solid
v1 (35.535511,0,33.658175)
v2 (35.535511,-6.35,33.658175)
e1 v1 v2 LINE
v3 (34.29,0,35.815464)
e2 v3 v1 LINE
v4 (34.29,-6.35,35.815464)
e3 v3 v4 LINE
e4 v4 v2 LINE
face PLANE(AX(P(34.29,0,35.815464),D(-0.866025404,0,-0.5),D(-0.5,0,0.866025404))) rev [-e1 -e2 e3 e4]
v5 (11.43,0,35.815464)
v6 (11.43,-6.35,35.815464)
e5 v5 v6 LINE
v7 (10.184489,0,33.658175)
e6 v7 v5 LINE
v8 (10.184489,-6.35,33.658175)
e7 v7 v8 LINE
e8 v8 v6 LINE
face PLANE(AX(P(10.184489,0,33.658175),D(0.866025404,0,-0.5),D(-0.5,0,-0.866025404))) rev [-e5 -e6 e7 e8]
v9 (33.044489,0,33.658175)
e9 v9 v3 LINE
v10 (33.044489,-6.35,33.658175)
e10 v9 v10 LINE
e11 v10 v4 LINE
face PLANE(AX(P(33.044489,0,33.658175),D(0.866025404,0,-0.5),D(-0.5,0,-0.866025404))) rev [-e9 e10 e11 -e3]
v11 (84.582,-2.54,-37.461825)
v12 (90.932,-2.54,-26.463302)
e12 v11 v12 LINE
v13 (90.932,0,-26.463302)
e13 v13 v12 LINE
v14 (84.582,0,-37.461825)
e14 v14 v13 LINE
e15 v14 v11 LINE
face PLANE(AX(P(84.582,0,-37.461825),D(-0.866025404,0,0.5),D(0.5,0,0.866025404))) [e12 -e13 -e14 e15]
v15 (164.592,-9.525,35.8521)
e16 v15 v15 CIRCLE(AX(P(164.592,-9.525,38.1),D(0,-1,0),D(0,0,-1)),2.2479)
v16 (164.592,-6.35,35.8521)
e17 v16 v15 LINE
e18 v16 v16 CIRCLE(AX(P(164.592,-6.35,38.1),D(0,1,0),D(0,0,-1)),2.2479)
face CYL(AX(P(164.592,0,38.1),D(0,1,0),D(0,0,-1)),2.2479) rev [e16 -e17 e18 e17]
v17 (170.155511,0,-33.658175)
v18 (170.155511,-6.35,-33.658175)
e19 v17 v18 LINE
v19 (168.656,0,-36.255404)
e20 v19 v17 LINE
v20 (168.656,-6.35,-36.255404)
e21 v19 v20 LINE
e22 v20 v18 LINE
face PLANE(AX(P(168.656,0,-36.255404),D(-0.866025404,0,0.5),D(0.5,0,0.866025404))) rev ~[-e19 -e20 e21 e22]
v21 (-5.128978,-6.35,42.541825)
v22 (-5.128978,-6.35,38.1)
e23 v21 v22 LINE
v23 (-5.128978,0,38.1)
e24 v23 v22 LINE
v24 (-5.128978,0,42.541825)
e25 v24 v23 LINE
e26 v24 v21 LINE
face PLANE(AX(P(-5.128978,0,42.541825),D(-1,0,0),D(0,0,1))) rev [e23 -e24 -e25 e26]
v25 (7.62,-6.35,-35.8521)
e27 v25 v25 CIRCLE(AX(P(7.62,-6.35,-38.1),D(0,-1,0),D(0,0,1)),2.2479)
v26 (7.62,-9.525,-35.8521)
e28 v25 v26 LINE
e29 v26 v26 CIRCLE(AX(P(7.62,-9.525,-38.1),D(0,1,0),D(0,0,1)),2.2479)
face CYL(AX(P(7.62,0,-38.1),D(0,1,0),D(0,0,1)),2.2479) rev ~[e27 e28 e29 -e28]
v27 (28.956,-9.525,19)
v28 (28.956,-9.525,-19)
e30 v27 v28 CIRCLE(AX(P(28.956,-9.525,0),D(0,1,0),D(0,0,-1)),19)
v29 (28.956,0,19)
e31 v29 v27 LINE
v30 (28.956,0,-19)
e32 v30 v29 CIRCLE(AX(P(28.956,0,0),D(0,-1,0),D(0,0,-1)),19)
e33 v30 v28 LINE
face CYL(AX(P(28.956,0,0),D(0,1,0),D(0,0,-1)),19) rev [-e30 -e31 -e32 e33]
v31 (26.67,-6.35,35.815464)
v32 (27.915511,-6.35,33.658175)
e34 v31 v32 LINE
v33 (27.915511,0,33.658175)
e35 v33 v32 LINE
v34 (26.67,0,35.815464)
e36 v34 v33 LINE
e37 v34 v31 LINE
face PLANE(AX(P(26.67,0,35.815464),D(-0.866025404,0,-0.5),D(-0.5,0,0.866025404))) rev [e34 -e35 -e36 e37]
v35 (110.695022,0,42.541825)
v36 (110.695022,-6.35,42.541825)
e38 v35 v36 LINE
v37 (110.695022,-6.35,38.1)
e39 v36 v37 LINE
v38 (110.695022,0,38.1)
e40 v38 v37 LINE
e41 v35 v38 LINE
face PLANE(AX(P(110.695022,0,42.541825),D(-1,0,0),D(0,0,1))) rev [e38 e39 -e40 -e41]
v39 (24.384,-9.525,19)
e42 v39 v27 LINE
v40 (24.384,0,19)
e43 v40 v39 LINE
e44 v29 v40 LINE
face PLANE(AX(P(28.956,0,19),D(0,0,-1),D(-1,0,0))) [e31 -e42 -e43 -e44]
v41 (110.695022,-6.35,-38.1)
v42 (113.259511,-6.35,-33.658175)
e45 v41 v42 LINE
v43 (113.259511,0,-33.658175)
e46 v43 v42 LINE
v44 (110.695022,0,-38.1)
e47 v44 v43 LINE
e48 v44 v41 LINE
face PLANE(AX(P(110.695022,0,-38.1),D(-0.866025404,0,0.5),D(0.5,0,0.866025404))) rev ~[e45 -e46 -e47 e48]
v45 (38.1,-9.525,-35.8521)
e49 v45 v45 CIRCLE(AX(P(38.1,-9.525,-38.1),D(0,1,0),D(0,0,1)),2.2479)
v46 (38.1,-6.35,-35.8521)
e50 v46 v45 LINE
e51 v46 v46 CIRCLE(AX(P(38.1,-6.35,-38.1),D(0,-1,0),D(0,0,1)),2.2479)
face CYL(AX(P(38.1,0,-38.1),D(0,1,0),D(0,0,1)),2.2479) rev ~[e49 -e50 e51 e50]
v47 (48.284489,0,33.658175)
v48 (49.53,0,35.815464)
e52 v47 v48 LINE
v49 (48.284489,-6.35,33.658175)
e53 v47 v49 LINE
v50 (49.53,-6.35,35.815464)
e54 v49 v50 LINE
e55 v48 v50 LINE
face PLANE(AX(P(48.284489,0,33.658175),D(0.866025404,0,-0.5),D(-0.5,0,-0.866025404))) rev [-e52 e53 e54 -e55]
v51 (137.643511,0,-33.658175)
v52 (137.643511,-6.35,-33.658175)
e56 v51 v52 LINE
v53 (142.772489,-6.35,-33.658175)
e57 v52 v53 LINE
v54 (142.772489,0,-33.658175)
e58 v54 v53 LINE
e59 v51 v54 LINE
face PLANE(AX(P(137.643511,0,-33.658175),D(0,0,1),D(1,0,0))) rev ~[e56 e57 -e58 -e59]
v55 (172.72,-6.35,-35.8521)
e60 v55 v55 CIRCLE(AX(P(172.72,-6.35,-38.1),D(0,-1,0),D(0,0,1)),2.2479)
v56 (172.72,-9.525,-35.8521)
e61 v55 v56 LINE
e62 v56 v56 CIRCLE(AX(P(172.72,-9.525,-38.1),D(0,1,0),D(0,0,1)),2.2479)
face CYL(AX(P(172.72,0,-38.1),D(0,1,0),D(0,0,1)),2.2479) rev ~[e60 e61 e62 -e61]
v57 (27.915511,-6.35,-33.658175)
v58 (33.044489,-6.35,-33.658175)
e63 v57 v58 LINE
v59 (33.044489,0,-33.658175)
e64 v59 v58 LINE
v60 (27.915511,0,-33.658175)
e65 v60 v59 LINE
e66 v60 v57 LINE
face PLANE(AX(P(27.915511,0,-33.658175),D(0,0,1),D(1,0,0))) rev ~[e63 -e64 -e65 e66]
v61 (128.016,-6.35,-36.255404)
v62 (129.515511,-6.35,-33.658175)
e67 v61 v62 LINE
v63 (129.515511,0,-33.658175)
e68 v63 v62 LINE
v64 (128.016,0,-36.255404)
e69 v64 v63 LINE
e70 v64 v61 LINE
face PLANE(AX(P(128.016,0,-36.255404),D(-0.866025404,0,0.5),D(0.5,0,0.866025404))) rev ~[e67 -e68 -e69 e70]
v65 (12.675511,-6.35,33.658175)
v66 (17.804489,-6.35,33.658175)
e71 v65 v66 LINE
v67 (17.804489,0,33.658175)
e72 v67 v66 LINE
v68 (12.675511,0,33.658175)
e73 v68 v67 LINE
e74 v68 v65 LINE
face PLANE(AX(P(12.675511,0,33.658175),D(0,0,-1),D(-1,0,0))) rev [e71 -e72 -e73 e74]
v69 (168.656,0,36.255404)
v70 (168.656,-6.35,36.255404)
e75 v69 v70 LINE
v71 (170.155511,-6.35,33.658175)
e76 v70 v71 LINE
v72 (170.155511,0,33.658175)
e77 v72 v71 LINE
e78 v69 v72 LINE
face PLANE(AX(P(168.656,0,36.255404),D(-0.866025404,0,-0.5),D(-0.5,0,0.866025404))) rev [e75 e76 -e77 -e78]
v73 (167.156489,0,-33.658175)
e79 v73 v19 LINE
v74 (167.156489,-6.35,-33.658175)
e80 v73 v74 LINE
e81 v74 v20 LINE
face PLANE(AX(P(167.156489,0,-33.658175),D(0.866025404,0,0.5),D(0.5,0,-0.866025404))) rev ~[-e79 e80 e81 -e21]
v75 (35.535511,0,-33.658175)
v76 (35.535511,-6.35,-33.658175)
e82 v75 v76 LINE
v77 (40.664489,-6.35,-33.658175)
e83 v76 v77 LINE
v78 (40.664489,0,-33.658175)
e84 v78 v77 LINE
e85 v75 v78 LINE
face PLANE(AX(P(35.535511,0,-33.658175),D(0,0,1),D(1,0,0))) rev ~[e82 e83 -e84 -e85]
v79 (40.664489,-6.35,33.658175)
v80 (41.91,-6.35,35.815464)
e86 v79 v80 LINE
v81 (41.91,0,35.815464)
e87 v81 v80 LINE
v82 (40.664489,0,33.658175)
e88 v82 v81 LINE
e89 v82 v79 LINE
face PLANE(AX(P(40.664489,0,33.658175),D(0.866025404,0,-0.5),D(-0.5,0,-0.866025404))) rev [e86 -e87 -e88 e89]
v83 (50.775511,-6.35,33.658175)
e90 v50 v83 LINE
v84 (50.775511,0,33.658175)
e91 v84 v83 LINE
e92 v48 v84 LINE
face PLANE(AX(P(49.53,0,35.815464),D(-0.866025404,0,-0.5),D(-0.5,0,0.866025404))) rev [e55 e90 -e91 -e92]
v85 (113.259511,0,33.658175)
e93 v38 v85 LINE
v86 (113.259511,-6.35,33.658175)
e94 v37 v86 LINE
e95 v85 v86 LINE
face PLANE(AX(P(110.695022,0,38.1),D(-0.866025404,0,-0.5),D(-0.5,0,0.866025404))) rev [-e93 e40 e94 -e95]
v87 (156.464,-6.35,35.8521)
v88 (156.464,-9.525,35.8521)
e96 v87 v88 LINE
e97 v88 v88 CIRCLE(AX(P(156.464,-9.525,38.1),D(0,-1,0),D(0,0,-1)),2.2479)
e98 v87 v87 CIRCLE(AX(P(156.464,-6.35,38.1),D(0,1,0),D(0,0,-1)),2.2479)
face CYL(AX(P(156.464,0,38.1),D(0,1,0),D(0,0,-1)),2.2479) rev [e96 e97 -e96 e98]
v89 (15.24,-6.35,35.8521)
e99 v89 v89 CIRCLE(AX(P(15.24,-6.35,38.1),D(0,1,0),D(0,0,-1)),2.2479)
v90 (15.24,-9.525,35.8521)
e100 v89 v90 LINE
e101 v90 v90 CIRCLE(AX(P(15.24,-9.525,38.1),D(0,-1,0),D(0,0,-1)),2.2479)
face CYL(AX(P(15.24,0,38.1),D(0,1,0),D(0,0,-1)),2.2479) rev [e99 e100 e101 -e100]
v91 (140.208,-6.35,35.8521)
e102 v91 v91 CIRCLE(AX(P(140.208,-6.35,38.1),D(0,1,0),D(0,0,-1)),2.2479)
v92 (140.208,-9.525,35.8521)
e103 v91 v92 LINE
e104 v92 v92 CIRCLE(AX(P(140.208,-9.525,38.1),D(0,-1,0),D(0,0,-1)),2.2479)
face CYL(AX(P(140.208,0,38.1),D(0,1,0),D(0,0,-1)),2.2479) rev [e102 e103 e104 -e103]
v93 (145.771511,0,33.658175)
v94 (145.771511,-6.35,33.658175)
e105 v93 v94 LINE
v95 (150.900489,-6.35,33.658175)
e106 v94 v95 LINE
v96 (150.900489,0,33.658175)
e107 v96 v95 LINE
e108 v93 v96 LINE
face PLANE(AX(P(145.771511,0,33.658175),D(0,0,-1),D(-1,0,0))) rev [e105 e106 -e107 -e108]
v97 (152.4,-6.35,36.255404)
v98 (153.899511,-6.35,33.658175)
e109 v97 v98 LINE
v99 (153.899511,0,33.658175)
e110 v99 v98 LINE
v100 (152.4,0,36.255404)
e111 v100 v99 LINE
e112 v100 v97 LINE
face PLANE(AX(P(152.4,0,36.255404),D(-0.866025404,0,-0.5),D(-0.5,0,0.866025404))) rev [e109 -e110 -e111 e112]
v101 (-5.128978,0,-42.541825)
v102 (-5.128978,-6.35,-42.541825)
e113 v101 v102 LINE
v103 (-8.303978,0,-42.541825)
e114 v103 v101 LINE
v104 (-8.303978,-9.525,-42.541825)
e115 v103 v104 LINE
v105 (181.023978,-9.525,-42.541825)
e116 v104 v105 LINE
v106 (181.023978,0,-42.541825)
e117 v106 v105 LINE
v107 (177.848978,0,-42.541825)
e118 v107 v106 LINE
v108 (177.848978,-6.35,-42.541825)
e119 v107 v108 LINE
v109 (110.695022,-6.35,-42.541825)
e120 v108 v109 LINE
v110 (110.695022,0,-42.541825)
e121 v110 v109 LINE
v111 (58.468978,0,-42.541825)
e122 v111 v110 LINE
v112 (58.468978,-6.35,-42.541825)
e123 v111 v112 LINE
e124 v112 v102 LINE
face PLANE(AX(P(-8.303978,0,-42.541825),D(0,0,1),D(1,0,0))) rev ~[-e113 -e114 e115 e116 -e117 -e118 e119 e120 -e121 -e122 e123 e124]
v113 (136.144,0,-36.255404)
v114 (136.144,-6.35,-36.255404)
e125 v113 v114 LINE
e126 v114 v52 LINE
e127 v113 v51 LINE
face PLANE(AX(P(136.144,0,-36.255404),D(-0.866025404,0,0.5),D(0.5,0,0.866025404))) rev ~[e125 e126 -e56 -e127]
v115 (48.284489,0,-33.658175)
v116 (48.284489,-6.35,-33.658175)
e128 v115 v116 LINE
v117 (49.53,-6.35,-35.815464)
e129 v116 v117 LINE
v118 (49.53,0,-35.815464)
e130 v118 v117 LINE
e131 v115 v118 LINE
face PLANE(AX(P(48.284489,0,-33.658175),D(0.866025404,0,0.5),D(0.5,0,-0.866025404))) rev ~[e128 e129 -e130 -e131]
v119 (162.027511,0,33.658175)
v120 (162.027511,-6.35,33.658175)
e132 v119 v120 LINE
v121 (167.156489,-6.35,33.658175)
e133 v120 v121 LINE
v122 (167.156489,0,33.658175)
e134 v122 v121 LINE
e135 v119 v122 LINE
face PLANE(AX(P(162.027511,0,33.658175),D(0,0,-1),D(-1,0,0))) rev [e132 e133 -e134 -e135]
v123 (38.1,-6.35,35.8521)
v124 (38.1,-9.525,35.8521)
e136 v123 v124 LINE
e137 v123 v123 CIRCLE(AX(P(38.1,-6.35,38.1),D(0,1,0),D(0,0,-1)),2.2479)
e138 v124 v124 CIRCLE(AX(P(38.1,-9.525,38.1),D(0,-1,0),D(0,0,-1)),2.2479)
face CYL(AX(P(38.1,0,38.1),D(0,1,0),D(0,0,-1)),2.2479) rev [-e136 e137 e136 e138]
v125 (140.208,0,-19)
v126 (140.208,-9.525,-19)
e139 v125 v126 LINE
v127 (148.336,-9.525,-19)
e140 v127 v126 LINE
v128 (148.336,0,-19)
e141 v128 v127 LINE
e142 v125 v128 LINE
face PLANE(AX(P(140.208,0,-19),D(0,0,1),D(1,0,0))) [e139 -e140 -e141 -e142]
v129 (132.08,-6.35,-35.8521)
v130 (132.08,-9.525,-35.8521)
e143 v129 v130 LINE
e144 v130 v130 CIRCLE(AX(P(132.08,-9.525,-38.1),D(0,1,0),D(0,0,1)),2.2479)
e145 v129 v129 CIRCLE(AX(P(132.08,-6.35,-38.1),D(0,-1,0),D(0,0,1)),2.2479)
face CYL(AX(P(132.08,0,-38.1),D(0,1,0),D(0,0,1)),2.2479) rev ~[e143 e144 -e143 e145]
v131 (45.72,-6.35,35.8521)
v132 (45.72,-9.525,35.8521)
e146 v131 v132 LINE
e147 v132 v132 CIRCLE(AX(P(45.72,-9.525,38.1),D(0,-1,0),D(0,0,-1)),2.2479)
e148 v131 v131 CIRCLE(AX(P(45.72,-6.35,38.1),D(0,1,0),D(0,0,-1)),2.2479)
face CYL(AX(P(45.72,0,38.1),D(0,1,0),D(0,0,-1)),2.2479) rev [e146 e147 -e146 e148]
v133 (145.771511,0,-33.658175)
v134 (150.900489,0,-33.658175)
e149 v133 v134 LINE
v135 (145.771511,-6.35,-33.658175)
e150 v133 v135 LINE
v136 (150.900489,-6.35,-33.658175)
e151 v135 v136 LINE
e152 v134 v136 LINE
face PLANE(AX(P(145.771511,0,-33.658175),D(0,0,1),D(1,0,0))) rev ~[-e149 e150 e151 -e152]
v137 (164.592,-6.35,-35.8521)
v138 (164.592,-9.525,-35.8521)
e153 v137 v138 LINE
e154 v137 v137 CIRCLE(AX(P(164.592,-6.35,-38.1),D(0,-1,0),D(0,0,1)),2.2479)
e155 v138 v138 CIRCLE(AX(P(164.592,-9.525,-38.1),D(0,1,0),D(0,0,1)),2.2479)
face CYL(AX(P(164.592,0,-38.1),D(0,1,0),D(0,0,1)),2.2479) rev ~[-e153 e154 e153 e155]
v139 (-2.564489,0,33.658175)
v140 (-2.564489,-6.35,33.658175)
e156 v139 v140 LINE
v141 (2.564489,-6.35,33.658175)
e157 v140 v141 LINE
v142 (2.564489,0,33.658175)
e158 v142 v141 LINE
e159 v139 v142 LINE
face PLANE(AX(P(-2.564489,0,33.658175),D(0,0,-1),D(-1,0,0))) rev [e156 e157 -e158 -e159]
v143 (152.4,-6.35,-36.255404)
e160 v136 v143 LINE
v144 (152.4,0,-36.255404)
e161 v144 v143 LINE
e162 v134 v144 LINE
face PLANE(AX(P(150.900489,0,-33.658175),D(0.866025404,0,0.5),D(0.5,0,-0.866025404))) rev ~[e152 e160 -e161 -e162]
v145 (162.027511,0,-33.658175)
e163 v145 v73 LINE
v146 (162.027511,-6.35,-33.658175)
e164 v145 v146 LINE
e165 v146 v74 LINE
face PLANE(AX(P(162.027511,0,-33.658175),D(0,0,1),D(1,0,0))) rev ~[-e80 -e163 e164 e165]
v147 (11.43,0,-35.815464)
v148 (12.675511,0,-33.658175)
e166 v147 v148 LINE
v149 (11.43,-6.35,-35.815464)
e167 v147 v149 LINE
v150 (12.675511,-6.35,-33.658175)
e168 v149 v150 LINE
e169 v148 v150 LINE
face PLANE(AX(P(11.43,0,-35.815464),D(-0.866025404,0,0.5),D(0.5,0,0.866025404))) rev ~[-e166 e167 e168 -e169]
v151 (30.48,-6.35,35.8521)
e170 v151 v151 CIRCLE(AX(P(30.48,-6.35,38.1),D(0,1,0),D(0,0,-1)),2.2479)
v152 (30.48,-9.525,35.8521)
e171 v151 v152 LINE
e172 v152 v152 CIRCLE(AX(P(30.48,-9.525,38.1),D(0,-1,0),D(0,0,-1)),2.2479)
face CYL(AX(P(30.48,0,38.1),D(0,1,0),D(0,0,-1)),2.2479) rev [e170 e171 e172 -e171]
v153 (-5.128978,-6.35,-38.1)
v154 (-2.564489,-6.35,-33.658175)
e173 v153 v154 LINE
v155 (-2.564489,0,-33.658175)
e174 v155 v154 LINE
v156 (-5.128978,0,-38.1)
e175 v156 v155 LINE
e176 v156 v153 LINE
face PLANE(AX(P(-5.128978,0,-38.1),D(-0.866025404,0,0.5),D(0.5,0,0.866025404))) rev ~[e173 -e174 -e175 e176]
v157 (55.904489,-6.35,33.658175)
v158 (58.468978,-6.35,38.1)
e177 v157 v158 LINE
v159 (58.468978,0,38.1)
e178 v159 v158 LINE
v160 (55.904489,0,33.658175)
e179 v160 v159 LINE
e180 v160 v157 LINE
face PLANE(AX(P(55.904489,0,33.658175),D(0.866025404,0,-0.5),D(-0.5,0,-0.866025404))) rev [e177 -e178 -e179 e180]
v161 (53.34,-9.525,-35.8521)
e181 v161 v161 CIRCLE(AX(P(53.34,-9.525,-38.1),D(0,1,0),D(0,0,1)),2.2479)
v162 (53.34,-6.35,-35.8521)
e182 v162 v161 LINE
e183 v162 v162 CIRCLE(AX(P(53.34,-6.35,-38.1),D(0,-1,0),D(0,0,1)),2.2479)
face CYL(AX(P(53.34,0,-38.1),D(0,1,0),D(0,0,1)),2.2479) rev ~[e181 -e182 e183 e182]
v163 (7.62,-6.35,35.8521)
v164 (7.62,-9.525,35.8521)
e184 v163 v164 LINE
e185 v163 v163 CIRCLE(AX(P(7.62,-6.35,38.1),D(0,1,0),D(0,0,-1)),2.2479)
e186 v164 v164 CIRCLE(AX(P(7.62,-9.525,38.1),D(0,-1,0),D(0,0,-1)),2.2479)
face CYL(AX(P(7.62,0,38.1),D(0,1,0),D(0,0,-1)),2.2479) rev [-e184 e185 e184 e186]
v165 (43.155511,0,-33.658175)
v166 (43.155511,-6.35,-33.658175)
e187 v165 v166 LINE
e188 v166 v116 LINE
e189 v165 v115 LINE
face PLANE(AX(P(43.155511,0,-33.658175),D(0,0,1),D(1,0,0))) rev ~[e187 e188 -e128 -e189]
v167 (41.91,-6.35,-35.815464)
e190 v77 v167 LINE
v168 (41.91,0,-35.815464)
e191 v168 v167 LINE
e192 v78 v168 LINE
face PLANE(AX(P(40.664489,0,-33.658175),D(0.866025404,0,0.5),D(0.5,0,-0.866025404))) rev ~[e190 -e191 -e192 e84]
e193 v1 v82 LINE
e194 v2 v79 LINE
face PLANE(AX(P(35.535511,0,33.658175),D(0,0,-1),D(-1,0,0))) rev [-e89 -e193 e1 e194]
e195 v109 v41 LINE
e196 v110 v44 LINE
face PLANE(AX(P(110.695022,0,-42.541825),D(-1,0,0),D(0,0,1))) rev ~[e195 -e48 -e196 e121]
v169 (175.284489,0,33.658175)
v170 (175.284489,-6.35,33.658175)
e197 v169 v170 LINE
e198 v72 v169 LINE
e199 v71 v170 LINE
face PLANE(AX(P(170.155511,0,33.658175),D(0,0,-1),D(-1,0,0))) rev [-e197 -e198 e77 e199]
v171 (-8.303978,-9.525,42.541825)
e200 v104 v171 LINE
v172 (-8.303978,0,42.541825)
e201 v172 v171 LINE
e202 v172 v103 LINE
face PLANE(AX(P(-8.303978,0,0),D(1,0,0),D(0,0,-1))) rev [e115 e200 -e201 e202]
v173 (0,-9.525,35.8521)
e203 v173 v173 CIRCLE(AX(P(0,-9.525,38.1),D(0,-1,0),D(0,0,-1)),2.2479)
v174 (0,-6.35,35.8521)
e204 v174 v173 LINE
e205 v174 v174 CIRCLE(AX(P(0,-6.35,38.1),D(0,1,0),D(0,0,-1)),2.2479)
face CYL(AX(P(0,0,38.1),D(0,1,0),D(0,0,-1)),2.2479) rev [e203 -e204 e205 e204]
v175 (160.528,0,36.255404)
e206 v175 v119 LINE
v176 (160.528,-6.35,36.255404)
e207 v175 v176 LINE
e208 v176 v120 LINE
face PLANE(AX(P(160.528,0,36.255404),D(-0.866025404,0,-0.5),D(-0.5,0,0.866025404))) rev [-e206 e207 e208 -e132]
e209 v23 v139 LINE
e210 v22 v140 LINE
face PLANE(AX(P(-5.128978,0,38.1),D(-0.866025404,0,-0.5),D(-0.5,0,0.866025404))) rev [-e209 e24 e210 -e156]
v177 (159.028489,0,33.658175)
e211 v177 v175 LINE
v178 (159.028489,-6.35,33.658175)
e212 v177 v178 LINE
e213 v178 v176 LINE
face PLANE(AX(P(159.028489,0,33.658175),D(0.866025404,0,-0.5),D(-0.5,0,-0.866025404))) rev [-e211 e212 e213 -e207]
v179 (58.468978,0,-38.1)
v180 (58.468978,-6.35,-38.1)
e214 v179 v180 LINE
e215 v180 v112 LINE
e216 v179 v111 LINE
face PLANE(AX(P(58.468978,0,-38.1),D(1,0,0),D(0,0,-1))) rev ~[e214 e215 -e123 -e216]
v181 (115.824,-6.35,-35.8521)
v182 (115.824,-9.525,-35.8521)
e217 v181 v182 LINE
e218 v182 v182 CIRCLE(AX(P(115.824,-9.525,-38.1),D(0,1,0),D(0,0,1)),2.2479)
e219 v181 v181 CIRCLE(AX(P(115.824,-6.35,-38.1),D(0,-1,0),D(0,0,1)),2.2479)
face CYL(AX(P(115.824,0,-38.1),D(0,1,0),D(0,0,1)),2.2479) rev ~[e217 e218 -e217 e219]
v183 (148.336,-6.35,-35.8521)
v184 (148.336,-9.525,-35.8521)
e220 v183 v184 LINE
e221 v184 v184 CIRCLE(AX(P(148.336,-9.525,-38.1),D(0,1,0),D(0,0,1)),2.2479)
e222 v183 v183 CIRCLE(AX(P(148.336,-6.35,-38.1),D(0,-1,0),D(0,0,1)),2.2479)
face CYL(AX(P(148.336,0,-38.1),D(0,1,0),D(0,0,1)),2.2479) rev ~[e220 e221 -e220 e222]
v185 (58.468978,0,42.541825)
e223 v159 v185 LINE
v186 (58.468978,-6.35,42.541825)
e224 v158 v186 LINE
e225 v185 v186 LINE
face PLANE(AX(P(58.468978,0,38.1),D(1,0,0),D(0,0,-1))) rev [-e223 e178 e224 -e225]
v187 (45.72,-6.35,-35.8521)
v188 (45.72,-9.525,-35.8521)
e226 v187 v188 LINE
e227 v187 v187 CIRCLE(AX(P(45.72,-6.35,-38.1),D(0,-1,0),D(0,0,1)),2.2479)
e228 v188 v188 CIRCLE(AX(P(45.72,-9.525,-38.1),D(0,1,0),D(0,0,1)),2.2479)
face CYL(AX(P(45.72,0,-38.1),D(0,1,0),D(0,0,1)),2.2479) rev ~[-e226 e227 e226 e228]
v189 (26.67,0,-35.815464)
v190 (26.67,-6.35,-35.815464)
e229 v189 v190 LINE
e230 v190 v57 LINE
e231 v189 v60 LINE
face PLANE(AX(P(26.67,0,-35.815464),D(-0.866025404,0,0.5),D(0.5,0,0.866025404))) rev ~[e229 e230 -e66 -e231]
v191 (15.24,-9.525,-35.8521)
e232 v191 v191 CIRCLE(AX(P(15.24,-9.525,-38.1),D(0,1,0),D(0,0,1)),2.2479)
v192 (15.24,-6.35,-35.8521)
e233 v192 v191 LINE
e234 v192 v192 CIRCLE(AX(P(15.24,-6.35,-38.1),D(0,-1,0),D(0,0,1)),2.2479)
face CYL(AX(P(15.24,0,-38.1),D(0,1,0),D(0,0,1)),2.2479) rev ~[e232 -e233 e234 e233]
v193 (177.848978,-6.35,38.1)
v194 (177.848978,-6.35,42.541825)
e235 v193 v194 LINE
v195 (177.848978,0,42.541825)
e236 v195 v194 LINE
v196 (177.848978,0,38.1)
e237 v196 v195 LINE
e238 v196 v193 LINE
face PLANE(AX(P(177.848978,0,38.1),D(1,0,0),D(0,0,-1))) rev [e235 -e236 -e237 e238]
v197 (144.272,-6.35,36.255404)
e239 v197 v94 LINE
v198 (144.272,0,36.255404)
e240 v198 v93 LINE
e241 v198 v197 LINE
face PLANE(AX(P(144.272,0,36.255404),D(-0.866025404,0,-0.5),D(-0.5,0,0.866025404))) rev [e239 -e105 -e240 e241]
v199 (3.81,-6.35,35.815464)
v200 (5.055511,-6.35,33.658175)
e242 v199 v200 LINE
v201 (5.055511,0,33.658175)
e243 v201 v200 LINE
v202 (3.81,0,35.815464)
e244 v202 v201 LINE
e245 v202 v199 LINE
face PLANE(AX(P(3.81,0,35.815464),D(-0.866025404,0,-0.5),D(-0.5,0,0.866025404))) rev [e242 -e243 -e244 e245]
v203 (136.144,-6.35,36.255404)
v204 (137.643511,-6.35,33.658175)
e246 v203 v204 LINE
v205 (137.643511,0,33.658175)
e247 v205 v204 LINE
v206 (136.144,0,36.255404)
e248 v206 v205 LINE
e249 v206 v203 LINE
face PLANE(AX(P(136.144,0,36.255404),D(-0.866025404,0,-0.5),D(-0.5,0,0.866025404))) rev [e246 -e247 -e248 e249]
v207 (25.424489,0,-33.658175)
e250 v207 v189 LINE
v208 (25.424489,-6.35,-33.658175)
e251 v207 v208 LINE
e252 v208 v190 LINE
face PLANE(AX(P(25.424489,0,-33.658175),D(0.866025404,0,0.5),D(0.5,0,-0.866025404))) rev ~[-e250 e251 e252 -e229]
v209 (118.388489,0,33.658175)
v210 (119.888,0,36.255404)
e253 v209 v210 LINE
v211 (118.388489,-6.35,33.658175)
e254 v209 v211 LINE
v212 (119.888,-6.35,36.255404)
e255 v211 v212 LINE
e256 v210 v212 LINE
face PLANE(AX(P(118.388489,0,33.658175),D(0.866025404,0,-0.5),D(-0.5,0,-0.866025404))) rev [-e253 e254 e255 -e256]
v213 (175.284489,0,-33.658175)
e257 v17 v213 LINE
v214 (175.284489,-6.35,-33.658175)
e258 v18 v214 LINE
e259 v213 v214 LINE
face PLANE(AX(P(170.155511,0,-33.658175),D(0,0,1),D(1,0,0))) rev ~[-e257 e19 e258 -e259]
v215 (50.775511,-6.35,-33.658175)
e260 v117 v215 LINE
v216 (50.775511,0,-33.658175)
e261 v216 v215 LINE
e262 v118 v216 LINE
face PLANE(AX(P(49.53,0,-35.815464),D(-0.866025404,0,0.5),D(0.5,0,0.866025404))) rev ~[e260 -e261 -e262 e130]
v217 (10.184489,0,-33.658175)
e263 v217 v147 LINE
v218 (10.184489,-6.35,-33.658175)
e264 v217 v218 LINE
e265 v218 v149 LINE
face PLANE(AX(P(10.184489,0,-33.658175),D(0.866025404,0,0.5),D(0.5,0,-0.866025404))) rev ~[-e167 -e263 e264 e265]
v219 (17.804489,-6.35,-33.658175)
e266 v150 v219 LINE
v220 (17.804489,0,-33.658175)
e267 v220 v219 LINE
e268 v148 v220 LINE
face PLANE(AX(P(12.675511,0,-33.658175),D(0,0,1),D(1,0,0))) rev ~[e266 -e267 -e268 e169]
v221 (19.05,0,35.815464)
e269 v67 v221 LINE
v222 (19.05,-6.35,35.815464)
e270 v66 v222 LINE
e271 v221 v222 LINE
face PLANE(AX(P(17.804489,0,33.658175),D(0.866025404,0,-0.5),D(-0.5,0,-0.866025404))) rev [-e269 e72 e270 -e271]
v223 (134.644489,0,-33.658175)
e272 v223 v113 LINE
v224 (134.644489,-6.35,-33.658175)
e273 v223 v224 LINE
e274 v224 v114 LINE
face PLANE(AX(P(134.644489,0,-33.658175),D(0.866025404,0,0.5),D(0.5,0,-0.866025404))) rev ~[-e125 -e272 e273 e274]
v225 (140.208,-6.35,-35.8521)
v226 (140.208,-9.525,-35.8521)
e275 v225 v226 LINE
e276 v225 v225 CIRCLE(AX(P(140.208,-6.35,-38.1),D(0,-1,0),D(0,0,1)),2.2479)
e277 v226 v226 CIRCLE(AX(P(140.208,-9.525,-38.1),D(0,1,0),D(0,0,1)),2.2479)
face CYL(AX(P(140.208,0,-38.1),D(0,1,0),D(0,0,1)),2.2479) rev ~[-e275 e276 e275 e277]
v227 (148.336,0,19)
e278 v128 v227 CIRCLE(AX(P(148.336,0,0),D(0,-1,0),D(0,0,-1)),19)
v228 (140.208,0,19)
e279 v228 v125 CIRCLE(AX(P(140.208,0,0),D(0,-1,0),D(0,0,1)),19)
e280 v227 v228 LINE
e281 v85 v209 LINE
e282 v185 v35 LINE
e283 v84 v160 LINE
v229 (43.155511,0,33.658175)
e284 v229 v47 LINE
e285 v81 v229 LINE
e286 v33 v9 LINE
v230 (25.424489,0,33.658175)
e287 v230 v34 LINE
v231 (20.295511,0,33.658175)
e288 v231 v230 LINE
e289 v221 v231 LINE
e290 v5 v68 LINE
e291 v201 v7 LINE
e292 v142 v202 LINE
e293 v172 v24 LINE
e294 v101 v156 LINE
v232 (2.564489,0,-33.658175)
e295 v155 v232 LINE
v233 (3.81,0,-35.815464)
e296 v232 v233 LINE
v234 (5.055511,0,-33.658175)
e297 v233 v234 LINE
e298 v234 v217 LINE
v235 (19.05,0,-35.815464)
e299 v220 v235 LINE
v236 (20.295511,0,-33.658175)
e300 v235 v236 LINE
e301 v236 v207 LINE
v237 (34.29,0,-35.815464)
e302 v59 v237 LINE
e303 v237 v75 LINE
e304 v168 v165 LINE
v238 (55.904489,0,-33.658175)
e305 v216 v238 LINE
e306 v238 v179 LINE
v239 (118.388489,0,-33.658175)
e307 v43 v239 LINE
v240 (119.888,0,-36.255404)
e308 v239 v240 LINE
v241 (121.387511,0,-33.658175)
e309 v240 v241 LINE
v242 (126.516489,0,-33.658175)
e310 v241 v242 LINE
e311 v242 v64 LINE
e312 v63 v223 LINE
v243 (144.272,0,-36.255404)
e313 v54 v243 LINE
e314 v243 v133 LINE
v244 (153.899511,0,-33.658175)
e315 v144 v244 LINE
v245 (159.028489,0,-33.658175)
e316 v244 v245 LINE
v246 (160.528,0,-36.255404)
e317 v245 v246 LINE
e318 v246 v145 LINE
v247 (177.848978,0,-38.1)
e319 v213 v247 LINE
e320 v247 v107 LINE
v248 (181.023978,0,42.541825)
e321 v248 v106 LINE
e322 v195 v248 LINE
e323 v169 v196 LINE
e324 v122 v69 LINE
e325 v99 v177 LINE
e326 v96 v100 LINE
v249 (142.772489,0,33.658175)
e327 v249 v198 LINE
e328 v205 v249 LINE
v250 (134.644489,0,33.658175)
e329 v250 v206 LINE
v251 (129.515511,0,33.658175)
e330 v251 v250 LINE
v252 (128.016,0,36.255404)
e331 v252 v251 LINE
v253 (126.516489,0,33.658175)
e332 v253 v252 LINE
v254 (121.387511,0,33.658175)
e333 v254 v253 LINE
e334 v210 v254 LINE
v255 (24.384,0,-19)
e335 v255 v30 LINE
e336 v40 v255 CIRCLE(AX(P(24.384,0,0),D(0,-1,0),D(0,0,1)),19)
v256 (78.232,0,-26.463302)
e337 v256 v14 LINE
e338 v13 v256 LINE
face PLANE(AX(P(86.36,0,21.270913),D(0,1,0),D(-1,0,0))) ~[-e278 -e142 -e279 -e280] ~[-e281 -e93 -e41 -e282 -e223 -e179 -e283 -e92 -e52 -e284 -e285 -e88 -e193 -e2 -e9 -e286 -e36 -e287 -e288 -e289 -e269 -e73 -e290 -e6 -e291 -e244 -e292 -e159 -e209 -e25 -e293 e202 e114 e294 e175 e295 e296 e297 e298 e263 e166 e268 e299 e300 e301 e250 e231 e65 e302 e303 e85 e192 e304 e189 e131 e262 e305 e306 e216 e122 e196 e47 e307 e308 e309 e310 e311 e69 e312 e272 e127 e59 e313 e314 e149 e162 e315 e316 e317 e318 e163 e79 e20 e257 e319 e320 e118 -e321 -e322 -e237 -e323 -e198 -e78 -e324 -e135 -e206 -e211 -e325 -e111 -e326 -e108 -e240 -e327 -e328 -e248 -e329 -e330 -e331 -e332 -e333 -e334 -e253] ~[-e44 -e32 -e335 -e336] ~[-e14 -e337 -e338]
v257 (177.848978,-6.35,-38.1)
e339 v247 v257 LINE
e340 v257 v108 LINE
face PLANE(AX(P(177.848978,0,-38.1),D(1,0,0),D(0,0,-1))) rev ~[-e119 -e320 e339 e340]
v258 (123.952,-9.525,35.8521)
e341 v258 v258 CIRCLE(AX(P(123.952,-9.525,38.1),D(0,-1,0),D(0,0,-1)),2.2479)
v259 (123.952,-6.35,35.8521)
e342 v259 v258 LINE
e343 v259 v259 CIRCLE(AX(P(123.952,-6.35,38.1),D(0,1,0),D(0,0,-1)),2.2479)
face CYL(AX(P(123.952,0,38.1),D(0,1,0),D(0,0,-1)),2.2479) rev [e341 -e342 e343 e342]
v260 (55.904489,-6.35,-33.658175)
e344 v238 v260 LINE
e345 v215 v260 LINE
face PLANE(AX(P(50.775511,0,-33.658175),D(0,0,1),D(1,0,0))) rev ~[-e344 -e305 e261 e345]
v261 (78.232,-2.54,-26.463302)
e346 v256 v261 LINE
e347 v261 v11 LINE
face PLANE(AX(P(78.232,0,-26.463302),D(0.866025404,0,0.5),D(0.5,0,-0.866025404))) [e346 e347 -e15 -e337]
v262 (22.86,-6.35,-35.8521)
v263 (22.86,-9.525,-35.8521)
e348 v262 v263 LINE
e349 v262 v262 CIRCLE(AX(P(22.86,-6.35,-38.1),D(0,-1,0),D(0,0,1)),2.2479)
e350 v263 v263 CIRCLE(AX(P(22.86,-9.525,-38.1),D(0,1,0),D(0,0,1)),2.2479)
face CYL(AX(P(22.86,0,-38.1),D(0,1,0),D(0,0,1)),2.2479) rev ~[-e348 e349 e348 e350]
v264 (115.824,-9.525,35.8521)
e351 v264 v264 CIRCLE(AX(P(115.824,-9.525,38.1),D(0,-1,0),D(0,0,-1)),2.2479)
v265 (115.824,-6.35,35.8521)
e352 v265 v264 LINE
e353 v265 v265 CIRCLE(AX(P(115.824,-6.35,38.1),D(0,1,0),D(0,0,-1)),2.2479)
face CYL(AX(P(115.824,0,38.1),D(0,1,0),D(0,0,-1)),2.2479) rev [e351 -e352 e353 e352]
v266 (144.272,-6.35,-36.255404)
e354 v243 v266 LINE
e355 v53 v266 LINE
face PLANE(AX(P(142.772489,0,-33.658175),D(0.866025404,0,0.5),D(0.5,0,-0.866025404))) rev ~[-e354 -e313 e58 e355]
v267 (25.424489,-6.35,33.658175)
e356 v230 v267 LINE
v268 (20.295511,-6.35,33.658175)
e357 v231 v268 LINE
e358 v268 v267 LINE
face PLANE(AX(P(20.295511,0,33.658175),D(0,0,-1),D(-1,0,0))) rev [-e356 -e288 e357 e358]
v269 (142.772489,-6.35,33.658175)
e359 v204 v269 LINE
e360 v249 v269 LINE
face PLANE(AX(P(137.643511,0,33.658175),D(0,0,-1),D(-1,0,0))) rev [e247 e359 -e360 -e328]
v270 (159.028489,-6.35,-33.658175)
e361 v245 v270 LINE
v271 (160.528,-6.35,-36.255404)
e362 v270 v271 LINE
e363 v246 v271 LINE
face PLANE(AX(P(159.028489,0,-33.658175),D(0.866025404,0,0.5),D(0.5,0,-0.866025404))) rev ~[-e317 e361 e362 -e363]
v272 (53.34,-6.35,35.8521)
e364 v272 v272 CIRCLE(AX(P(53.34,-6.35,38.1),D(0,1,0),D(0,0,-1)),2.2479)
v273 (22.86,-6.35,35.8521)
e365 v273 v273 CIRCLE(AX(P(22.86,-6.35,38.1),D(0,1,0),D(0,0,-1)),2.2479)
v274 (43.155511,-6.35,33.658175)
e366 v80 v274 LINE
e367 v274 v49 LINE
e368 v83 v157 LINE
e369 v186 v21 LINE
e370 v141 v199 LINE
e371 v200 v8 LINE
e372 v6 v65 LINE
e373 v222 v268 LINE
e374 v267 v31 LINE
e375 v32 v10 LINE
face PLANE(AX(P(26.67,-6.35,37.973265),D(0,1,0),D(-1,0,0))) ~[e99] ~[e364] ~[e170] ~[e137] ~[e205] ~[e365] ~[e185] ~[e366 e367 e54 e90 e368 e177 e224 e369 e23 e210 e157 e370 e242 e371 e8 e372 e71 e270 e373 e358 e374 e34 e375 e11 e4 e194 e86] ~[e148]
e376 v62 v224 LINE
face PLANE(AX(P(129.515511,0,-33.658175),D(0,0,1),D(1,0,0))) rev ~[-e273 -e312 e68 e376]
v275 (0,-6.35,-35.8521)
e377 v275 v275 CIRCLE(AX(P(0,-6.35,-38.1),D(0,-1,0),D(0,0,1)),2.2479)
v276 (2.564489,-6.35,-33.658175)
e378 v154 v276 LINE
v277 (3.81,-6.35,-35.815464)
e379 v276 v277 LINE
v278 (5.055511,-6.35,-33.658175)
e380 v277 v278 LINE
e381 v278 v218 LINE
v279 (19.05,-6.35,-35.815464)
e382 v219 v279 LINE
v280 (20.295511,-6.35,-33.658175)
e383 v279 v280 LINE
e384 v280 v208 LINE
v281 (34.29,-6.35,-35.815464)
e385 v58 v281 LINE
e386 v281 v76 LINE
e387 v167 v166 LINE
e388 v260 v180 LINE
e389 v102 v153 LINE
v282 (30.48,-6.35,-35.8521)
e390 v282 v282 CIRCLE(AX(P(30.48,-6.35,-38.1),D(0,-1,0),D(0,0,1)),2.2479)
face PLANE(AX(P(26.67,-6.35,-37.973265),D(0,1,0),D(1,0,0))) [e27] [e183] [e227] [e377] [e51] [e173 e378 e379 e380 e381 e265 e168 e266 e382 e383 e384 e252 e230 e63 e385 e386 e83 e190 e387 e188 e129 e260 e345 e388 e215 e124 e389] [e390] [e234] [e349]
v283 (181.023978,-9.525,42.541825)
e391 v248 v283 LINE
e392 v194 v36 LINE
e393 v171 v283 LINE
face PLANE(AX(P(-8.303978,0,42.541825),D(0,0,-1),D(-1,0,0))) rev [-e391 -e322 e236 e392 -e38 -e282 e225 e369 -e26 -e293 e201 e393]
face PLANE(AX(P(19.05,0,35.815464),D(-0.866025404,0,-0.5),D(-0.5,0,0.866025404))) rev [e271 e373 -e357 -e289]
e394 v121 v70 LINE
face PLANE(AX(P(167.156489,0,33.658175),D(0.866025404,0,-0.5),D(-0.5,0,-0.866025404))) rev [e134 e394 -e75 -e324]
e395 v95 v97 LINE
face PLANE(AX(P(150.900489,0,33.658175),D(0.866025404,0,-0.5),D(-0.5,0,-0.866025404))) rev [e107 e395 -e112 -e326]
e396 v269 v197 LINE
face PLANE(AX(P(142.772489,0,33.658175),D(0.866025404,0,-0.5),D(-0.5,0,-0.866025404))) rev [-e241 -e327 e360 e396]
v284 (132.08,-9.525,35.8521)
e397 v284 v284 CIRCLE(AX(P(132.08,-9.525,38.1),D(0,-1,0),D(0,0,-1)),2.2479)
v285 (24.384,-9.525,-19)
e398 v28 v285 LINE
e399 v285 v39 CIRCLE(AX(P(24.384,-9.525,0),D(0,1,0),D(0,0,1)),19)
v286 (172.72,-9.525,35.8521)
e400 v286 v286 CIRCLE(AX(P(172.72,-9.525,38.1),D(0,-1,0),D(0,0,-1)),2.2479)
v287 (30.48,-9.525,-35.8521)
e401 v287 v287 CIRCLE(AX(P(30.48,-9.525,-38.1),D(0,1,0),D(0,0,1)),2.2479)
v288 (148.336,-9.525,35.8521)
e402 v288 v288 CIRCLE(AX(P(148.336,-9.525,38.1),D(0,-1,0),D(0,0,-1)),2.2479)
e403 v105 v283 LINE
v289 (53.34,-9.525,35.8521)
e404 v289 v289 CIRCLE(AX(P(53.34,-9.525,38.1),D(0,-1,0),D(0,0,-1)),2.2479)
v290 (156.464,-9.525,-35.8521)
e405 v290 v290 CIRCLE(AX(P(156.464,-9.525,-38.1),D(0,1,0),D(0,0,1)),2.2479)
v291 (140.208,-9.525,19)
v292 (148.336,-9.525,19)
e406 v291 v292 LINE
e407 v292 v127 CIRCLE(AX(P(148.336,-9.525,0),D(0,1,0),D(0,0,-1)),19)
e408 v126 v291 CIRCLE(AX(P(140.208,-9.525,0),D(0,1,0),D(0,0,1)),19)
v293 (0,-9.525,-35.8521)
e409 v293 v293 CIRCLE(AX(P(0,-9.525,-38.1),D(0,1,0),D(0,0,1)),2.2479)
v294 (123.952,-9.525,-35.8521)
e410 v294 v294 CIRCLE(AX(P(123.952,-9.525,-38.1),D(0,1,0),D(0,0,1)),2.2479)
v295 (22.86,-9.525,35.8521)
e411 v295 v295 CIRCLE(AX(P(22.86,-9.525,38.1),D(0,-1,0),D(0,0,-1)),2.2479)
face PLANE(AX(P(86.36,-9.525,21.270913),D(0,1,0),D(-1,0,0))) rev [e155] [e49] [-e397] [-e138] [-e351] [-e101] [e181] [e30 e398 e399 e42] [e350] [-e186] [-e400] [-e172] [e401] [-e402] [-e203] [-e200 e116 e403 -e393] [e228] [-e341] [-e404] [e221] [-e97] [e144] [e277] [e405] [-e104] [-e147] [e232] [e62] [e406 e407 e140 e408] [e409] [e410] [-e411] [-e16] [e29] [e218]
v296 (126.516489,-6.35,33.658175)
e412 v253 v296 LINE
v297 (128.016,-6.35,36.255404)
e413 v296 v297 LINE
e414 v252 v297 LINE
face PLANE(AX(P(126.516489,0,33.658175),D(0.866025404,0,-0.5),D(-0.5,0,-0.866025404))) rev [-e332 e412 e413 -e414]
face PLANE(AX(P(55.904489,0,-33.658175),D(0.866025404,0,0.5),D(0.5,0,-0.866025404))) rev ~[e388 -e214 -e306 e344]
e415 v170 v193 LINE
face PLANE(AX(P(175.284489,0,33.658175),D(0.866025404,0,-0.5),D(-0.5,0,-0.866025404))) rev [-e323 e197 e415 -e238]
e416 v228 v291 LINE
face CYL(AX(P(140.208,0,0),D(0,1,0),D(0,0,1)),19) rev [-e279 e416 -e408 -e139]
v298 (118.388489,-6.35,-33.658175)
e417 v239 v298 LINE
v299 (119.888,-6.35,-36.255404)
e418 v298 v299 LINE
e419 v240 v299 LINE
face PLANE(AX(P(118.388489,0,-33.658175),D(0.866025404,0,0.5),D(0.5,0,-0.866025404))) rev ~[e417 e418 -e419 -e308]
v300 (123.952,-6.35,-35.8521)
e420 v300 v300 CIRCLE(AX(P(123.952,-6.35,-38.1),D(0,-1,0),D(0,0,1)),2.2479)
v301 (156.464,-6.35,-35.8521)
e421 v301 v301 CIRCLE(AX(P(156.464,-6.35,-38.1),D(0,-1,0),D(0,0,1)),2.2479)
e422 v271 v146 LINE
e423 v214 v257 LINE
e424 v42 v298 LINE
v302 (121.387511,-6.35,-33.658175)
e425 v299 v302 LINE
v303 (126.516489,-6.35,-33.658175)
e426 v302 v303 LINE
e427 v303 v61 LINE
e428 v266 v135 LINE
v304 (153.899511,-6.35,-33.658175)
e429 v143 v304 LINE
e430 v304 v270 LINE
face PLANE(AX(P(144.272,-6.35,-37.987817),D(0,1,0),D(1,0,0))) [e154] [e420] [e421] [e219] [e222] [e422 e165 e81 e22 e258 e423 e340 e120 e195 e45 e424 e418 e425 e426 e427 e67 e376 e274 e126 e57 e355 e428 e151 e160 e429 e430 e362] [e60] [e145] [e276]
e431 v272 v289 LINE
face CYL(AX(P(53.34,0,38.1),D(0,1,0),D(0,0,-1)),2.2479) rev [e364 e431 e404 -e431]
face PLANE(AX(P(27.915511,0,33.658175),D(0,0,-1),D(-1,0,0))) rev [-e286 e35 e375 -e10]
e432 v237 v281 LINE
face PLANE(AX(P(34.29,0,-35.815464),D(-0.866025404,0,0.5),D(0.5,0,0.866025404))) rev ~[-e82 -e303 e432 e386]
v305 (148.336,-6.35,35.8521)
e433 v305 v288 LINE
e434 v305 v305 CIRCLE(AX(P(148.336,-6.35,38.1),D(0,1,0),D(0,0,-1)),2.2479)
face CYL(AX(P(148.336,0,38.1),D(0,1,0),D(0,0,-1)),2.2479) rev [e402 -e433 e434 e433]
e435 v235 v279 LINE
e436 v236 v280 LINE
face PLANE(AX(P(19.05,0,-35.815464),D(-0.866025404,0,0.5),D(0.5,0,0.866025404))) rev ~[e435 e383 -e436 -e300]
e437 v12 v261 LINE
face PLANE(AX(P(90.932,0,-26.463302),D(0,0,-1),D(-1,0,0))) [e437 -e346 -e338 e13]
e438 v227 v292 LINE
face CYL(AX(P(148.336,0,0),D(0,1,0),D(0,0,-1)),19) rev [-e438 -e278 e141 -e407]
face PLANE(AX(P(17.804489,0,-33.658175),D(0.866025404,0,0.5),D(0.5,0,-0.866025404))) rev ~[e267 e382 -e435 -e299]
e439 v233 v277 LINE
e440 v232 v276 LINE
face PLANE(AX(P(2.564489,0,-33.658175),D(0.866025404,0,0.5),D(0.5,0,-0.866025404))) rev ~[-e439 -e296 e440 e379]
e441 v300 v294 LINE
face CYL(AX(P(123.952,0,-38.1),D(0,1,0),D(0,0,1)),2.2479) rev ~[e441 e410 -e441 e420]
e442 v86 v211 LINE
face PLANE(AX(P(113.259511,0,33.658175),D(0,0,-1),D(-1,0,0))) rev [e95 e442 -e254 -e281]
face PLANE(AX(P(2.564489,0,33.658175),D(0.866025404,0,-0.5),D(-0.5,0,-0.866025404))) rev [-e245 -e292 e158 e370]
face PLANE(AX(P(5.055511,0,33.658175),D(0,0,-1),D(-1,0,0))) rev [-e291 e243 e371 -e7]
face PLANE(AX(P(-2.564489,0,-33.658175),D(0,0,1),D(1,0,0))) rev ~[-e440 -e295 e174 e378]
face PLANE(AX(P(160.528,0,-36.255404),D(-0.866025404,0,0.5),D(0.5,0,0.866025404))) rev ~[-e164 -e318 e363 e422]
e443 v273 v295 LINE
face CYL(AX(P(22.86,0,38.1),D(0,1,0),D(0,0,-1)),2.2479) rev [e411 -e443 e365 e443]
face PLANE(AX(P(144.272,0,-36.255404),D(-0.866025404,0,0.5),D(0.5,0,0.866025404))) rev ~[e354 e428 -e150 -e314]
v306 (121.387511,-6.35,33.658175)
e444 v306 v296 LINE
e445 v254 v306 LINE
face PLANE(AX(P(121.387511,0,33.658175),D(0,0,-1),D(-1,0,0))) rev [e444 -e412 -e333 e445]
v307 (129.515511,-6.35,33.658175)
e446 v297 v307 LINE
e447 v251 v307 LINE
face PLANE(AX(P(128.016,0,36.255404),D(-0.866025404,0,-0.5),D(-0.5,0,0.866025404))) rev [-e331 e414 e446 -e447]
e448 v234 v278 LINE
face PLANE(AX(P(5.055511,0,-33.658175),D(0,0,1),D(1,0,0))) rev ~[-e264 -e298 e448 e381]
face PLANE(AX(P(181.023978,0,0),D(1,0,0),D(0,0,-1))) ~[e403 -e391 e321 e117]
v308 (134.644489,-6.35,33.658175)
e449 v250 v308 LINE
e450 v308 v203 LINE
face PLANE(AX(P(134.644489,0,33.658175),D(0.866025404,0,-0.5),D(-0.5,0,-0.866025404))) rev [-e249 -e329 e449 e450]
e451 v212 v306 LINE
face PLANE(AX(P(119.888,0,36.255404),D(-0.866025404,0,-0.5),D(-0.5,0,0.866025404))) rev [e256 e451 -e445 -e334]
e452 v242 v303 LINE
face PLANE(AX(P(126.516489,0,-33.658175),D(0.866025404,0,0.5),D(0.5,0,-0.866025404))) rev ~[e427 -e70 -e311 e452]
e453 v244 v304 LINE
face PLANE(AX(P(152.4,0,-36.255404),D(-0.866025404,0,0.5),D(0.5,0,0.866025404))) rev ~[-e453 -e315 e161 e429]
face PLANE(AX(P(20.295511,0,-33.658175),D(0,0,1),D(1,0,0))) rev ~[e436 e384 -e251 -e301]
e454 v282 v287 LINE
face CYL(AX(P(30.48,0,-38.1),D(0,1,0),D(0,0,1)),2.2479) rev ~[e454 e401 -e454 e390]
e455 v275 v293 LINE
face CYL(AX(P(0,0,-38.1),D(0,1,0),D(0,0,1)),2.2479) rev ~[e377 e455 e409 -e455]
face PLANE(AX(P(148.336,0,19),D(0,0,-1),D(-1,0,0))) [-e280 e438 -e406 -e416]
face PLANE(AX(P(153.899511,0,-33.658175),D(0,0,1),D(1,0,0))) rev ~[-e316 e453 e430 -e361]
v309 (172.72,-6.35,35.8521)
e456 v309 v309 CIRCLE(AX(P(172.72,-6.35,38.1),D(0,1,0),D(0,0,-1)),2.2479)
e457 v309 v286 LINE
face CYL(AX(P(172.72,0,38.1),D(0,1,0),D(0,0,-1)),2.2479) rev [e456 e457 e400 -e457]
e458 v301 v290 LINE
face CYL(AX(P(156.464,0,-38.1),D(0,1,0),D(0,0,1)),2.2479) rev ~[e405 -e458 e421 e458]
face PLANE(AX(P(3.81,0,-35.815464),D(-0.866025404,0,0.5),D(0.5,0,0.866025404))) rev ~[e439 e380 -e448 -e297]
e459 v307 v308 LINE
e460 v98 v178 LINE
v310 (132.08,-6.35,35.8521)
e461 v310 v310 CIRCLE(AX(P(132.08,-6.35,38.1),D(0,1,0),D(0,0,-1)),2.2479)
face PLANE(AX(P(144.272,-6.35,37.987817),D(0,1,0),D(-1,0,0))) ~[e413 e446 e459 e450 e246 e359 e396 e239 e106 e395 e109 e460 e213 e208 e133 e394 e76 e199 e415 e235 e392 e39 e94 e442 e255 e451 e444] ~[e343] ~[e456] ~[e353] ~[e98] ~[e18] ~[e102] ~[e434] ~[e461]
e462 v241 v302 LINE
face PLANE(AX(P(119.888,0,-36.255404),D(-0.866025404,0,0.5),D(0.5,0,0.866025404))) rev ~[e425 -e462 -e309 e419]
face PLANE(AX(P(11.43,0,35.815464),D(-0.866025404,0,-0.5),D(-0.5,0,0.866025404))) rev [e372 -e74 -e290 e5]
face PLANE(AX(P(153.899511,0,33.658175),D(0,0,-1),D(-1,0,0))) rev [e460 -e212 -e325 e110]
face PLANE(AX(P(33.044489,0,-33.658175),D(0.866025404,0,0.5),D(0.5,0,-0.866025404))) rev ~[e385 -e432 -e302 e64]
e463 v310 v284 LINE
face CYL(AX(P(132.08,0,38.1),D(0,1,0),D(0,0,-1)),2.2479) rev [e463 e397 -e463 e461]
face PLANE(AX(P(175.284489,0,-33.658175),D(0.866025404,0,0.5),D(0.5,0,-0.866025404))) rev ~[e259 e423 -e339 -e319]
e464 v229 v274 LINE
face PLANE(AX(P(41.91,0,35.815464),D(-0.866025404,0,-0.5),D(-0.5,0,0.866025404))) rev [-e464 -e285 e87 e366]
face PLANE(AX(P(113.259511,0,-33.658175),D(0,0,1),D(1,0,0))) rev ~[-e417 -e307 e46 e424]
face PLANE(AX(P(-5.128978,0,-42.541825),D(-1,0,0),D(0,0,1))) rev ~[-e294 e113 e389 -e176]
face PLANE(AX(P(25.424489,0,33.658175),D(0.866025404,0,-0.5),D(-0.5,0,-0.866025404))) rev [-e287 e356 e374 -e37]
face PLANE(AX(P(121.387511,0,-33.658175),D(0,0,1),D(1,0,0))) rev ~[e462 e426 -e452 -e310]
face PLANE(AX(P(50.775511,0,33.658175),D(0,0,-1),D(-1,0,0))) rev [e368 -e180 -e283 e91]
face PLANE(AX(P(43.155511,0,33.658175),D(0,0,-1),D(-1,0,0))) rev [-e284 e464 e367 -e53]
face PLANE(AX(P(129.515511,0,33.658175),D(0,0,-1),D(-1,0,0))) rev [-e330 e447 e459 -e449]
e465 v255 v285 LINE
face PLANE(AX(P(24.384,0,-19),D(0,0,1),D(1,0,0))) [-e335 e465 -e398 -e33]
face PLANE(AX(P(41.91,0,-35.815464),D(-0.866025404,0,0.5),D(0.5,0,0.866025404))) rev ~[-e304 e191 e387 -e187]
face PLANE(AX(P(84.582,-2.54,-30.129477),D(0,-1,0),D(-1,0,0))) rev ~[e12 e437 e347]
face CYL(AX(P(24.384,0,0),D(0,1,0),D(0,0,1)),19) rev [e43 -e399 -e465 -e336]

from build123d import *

# Parameters (mm, degrees)
SKETCH1_W           = 189.327955438
SKETCH1_H           = 42.541825
SKETCH1_R           = 2.2479
BOSS_EXTRUDE1_DEPTH = 9.525
SKETCH1_5_R         = 2.2479
CUT_EXTRUDE1_DEPTH  = 6.35
CUT_EXTRUDE2_DEPTH  = 187.199390462
CUT_EXTRUDE3_DEPTH  = 2.54


with BuildPart() as part:
    # Sketch1 → Boss-Extrude1 (new body)
    with BuildSketch(Plane(origin=(0, 0, 0), x_dir=(1, 0, 0), z_dir=(0, 1, 0))):
        with Locations((86.36, 21.2709125)):
            Rectangle(SKETCH1_W, SKETCH1_H)
        with Locations(Location((45.72, 38.1, 0), (0, 0, 270))):
            Circle(SKETCH1_R, mode=Mode.SUBTRACT)
        with Locations(Location((38.1, 38.1, 0), (0, 0, 270))):
            Circle(SKETCH1_R, mode=Mode.SUBTRACT)
        with Locations(Location((30.48, 38.1, 0), (0, 0, 270))):
            Circle(SKETCH1_R, mode=Mode.SUBTRACT)
        with Locations(Location((22.86, 38.1, 0), (0, 0, 270))):
            Circle(SKETCH1_R, mode=Mode.SUBTRACT)
        with Locations(Location((15.24, 38.1, 0), (0, 0, 270))):
            Circle(SKETCH1_R, mode=Mode.SUBTRACT)
        with Locations(Location((7.62, 38.1, 0), (0, 0, 270))):
            Circle(SKETCH1_R, mode=Mode.SUBTRACT)
        with Locations(Location((0, 38.1, 0), (0, 0, 270))):
            Circle(SKETCH1_R, mode=Mode.SUBTRACT)
        with Locations(Location((53.34, 38.1, 0), (0, 0, 270))):
            Circle(SKETCH1_R, mode=Mode.SUBTRACT)
        with Locations(Location((148.336, 38.1, 0), (0, 0, 270))):
            Circle(SKETCH1_R, mode=Mode.SUBTRACT)
        with Locations(Location((140.208, 38.1, 0), (0, 0, 270))):
            Circle(SKETCH1_R, mode=Mode.SUBTRACT)
        with Locations(Location((132.08, 38.1, 0), (0, 0, 270))):
            Circle(SKETCH1_R, mode=Mode.SUBTRACT)
        with Locations(Location((123.952, 38.1, 0), (0, 0, 270))):
            Circle(SKETCH1_R, mode=Mode.SUBTRACT)
        with Locations(Location((115.824, 38.1, 0), (0, 0, 270))):
            Circle(SKETCH1_R, mode=Mode.SUBTRACT)
        with Locations(Location((156.464, 38.1, 0), (0, 0, 270))):
            Circle(SKETCH1_R, mode=Mode.SUBTRACT)
        with Locations(Location((164.592, 38.1, 0), (0, 0, 270))):
            Circle(SKETCH1_R, mode=Mode.SUBTRACT)
        with Locations(Location((172.72, 38.1, 0), (0, 0, 270))):
            Circle(SKETCH1_R, mode=Mode.SUBTRACT)
    extrude(amount=-BOSS_EXTRUDE1_DEPTH)

    # Sketch1<5> → Cut-Extrude1 (cut)
    # profile 1 of 2: a face of its own
    with BuildSketch(Plane(origin=(0, 0, 0), x_dir=(1, 0, 0), z_dir=(0, 1, 0))):
        Polygon((-5.128977719, 38.1), (-2.564488859, 33.658175), (2.564488859, 33.658175), (3.81, 35.815463577), (5.055511141, 33.658175), (10.184488859, 33.658175), (11.43, 35.815463577), (12.675511141, 33.658175), (17.804488859, 33.658175), (19.05, 35.815463577), (20.295511141, 33.658175), (25.424488859, 33.658175), (26.67, 35.815463577), (27.915511141, 33.658175), (33.044488859, 33.658175), (34.29, 35.815463577), (35.535511141, 33.658175), (40.664488859, 33.658175), (41.91, 35.815463577), (43.155511141, 33.658175), (48.284488859, 33.658175), (49.53, 35.815463577), (50.775511141, 33.658175), (55.904488859, 33.658175), (58.468977719, 38.1), (58.468977719, 42.541825), (-5.128977719, 42.541825), align=None)
        with Locations((0, 38.1)):
            Circle(SKETCH1_5_R, mode=Mode.SUBTRACT)
        with Locations((7.62, 38.1)):
            Circle(SKETCH1_5_R, mode=Mode.SUBTRACT)
        with Locations((15.24, 38.1)):
            Circle(SKETCH1_5_R, mode=Mode.SUBTRACT)
        with Locations((22.86, 38.1)):
            Circle(SKETCH1_5_R, mode=Mode.SUBTRACT)
        with Locations((30.48, 38.1)):
            Circle(SKETCH1_5_R, mode=Mode.SUBTRACT)
        with Locations((38.1, 38.1)):
            Circle(SKETCH1_5_R, mode=Mode.SUBTRACT)
        with Locations((45.72, 38.1)):
            Circle(SKETCH1_5_R, mode=Mode.SUBTRACT)
        with Locations((53.34, 38.1)):
            Circle(SKETCH1_5_R, mode=Mode.SUBTRACT)
    # profile 2 of 2: a face of its own
    with BuildSketch(Plane(origin=(0, 0, 0), x_dir=(1, 0, 0), z_dir=(0, 1, 0))):
        Polygon((170.155511141, 33.658175), (175.284488859, 33.658175), (177.848977719, 38.1), (177.848977719, 42.541825), (110.695022281, 42.541825), (110.695022281, 38.1), (113.259511141, 33.658175), (118.388488859, 33.658175), (119.888, 36.255404482), (121.387511141, 33.658175), (126.516488859, 33.658175), (128.016, 36.255404482), (129.515511141, 33.658175), (134.644488859, 33.658175), (136.144, 36.255404482), (137.643511141, 33.658175), (142.772488859, 33.658175), (144.272, 36.255404482), (145.771511141, 33.658175), (150.900488859, 33.658175), (152.4, 36.255404482), (153.899511141, 33.658175), (159.028488859, 33.658175), (160.528, 36.255404482), (162.027511141, 33.658175), (167.156488859, 33.658175), (168.656, 36.255404482), align=None)
        with Locations((115.824, 38.1)):
            Circle(SKETCH1_5_R, mode=Mode.SUBTRACT)
        with Locations((123.952, 38.1)):
            Circle(SKETCH1_5_R, mode=Mode.SUBTRACT)
        with Locations((132.08, 38.1)):
            Circle(SKETCH1_5_R, mode=Mode.SUBTRACT)
        with Locations((140.208, 38.1)):
            Circle(SKETCH1_5_R, mode=Mode.SUBTRACT)
        with Locations((148.336, 38.1)):
            Circle(SKETCH1_5_R, mode=Mode.SUBTRACT)
        with Locations((156.464, 38.1)):
            Circle(SKETCH1_5_R, mode=Mode.SUBTRACT)
        with Locations((164.592, 38.1)):
            Circle(SKETCH1_5_R, mode=Mode.SUBTRACT)
        with Locations((172.72, 38.1)):
            Circle(SKETCH1_5_R, mode=Mode.SUBTRACT)
    extrude(amount=-CUT_EXTRUDE1_DEPTH, mode=Mode.SUBTRACT)

    # Mirror1: part across plane


with BuildPart() as part_1:
    add(part.part)
    add(part.part.mirror(Plane.XY))

    # Sketch2 → Cut-Extrude2 (cut, through all)
    with BuildSketch(Plane(origin=(0, 0, 0), x_dir=(1, 0, 0), z_dir=(0, 1, 0))):
        with BuildLine():
            Line((148.336, -19), (140.208, -19))
            ThreePointArc((140.208, -19), (121.208, 0), (140.208, 19))
            Line((140.208, 19), (148.336, 19))
            ThreePointArc((148.336, 19), (167.336, 0), (148.336, -19))
        make_face()
        with BuildLine():
            Line((28.956, -19), (24.384, -19))
            ThreePointArc((24.384, -19), (5.384, 0), (24.384, 19))
            Line((24.384, 19), (28.956, 19))
            ThreePointArc((28.956, 19), (47.956, 0), (28.956, -19))
        make_face()
    extrude(amount=-CUT_EXTRUDE2_DEPTH, mode=Mode.SUBTRACT)

    # Sketch4 → Cut-Extrude3 (cut)
    with BuildSketch(Plane(origin=(0, 0, 0), x_dir=(1, 0, 0), z_dir=(0, 1, 0))):
        Polygon((78.232, 26.463302372), (84.582, 37.461825), (90.932, 26.463302372), align=None)
    extrude(amount=-CUT_EXTRUDE3_DEPTH, mode=Mode.SUBTRACT)


solid = part_1.part
